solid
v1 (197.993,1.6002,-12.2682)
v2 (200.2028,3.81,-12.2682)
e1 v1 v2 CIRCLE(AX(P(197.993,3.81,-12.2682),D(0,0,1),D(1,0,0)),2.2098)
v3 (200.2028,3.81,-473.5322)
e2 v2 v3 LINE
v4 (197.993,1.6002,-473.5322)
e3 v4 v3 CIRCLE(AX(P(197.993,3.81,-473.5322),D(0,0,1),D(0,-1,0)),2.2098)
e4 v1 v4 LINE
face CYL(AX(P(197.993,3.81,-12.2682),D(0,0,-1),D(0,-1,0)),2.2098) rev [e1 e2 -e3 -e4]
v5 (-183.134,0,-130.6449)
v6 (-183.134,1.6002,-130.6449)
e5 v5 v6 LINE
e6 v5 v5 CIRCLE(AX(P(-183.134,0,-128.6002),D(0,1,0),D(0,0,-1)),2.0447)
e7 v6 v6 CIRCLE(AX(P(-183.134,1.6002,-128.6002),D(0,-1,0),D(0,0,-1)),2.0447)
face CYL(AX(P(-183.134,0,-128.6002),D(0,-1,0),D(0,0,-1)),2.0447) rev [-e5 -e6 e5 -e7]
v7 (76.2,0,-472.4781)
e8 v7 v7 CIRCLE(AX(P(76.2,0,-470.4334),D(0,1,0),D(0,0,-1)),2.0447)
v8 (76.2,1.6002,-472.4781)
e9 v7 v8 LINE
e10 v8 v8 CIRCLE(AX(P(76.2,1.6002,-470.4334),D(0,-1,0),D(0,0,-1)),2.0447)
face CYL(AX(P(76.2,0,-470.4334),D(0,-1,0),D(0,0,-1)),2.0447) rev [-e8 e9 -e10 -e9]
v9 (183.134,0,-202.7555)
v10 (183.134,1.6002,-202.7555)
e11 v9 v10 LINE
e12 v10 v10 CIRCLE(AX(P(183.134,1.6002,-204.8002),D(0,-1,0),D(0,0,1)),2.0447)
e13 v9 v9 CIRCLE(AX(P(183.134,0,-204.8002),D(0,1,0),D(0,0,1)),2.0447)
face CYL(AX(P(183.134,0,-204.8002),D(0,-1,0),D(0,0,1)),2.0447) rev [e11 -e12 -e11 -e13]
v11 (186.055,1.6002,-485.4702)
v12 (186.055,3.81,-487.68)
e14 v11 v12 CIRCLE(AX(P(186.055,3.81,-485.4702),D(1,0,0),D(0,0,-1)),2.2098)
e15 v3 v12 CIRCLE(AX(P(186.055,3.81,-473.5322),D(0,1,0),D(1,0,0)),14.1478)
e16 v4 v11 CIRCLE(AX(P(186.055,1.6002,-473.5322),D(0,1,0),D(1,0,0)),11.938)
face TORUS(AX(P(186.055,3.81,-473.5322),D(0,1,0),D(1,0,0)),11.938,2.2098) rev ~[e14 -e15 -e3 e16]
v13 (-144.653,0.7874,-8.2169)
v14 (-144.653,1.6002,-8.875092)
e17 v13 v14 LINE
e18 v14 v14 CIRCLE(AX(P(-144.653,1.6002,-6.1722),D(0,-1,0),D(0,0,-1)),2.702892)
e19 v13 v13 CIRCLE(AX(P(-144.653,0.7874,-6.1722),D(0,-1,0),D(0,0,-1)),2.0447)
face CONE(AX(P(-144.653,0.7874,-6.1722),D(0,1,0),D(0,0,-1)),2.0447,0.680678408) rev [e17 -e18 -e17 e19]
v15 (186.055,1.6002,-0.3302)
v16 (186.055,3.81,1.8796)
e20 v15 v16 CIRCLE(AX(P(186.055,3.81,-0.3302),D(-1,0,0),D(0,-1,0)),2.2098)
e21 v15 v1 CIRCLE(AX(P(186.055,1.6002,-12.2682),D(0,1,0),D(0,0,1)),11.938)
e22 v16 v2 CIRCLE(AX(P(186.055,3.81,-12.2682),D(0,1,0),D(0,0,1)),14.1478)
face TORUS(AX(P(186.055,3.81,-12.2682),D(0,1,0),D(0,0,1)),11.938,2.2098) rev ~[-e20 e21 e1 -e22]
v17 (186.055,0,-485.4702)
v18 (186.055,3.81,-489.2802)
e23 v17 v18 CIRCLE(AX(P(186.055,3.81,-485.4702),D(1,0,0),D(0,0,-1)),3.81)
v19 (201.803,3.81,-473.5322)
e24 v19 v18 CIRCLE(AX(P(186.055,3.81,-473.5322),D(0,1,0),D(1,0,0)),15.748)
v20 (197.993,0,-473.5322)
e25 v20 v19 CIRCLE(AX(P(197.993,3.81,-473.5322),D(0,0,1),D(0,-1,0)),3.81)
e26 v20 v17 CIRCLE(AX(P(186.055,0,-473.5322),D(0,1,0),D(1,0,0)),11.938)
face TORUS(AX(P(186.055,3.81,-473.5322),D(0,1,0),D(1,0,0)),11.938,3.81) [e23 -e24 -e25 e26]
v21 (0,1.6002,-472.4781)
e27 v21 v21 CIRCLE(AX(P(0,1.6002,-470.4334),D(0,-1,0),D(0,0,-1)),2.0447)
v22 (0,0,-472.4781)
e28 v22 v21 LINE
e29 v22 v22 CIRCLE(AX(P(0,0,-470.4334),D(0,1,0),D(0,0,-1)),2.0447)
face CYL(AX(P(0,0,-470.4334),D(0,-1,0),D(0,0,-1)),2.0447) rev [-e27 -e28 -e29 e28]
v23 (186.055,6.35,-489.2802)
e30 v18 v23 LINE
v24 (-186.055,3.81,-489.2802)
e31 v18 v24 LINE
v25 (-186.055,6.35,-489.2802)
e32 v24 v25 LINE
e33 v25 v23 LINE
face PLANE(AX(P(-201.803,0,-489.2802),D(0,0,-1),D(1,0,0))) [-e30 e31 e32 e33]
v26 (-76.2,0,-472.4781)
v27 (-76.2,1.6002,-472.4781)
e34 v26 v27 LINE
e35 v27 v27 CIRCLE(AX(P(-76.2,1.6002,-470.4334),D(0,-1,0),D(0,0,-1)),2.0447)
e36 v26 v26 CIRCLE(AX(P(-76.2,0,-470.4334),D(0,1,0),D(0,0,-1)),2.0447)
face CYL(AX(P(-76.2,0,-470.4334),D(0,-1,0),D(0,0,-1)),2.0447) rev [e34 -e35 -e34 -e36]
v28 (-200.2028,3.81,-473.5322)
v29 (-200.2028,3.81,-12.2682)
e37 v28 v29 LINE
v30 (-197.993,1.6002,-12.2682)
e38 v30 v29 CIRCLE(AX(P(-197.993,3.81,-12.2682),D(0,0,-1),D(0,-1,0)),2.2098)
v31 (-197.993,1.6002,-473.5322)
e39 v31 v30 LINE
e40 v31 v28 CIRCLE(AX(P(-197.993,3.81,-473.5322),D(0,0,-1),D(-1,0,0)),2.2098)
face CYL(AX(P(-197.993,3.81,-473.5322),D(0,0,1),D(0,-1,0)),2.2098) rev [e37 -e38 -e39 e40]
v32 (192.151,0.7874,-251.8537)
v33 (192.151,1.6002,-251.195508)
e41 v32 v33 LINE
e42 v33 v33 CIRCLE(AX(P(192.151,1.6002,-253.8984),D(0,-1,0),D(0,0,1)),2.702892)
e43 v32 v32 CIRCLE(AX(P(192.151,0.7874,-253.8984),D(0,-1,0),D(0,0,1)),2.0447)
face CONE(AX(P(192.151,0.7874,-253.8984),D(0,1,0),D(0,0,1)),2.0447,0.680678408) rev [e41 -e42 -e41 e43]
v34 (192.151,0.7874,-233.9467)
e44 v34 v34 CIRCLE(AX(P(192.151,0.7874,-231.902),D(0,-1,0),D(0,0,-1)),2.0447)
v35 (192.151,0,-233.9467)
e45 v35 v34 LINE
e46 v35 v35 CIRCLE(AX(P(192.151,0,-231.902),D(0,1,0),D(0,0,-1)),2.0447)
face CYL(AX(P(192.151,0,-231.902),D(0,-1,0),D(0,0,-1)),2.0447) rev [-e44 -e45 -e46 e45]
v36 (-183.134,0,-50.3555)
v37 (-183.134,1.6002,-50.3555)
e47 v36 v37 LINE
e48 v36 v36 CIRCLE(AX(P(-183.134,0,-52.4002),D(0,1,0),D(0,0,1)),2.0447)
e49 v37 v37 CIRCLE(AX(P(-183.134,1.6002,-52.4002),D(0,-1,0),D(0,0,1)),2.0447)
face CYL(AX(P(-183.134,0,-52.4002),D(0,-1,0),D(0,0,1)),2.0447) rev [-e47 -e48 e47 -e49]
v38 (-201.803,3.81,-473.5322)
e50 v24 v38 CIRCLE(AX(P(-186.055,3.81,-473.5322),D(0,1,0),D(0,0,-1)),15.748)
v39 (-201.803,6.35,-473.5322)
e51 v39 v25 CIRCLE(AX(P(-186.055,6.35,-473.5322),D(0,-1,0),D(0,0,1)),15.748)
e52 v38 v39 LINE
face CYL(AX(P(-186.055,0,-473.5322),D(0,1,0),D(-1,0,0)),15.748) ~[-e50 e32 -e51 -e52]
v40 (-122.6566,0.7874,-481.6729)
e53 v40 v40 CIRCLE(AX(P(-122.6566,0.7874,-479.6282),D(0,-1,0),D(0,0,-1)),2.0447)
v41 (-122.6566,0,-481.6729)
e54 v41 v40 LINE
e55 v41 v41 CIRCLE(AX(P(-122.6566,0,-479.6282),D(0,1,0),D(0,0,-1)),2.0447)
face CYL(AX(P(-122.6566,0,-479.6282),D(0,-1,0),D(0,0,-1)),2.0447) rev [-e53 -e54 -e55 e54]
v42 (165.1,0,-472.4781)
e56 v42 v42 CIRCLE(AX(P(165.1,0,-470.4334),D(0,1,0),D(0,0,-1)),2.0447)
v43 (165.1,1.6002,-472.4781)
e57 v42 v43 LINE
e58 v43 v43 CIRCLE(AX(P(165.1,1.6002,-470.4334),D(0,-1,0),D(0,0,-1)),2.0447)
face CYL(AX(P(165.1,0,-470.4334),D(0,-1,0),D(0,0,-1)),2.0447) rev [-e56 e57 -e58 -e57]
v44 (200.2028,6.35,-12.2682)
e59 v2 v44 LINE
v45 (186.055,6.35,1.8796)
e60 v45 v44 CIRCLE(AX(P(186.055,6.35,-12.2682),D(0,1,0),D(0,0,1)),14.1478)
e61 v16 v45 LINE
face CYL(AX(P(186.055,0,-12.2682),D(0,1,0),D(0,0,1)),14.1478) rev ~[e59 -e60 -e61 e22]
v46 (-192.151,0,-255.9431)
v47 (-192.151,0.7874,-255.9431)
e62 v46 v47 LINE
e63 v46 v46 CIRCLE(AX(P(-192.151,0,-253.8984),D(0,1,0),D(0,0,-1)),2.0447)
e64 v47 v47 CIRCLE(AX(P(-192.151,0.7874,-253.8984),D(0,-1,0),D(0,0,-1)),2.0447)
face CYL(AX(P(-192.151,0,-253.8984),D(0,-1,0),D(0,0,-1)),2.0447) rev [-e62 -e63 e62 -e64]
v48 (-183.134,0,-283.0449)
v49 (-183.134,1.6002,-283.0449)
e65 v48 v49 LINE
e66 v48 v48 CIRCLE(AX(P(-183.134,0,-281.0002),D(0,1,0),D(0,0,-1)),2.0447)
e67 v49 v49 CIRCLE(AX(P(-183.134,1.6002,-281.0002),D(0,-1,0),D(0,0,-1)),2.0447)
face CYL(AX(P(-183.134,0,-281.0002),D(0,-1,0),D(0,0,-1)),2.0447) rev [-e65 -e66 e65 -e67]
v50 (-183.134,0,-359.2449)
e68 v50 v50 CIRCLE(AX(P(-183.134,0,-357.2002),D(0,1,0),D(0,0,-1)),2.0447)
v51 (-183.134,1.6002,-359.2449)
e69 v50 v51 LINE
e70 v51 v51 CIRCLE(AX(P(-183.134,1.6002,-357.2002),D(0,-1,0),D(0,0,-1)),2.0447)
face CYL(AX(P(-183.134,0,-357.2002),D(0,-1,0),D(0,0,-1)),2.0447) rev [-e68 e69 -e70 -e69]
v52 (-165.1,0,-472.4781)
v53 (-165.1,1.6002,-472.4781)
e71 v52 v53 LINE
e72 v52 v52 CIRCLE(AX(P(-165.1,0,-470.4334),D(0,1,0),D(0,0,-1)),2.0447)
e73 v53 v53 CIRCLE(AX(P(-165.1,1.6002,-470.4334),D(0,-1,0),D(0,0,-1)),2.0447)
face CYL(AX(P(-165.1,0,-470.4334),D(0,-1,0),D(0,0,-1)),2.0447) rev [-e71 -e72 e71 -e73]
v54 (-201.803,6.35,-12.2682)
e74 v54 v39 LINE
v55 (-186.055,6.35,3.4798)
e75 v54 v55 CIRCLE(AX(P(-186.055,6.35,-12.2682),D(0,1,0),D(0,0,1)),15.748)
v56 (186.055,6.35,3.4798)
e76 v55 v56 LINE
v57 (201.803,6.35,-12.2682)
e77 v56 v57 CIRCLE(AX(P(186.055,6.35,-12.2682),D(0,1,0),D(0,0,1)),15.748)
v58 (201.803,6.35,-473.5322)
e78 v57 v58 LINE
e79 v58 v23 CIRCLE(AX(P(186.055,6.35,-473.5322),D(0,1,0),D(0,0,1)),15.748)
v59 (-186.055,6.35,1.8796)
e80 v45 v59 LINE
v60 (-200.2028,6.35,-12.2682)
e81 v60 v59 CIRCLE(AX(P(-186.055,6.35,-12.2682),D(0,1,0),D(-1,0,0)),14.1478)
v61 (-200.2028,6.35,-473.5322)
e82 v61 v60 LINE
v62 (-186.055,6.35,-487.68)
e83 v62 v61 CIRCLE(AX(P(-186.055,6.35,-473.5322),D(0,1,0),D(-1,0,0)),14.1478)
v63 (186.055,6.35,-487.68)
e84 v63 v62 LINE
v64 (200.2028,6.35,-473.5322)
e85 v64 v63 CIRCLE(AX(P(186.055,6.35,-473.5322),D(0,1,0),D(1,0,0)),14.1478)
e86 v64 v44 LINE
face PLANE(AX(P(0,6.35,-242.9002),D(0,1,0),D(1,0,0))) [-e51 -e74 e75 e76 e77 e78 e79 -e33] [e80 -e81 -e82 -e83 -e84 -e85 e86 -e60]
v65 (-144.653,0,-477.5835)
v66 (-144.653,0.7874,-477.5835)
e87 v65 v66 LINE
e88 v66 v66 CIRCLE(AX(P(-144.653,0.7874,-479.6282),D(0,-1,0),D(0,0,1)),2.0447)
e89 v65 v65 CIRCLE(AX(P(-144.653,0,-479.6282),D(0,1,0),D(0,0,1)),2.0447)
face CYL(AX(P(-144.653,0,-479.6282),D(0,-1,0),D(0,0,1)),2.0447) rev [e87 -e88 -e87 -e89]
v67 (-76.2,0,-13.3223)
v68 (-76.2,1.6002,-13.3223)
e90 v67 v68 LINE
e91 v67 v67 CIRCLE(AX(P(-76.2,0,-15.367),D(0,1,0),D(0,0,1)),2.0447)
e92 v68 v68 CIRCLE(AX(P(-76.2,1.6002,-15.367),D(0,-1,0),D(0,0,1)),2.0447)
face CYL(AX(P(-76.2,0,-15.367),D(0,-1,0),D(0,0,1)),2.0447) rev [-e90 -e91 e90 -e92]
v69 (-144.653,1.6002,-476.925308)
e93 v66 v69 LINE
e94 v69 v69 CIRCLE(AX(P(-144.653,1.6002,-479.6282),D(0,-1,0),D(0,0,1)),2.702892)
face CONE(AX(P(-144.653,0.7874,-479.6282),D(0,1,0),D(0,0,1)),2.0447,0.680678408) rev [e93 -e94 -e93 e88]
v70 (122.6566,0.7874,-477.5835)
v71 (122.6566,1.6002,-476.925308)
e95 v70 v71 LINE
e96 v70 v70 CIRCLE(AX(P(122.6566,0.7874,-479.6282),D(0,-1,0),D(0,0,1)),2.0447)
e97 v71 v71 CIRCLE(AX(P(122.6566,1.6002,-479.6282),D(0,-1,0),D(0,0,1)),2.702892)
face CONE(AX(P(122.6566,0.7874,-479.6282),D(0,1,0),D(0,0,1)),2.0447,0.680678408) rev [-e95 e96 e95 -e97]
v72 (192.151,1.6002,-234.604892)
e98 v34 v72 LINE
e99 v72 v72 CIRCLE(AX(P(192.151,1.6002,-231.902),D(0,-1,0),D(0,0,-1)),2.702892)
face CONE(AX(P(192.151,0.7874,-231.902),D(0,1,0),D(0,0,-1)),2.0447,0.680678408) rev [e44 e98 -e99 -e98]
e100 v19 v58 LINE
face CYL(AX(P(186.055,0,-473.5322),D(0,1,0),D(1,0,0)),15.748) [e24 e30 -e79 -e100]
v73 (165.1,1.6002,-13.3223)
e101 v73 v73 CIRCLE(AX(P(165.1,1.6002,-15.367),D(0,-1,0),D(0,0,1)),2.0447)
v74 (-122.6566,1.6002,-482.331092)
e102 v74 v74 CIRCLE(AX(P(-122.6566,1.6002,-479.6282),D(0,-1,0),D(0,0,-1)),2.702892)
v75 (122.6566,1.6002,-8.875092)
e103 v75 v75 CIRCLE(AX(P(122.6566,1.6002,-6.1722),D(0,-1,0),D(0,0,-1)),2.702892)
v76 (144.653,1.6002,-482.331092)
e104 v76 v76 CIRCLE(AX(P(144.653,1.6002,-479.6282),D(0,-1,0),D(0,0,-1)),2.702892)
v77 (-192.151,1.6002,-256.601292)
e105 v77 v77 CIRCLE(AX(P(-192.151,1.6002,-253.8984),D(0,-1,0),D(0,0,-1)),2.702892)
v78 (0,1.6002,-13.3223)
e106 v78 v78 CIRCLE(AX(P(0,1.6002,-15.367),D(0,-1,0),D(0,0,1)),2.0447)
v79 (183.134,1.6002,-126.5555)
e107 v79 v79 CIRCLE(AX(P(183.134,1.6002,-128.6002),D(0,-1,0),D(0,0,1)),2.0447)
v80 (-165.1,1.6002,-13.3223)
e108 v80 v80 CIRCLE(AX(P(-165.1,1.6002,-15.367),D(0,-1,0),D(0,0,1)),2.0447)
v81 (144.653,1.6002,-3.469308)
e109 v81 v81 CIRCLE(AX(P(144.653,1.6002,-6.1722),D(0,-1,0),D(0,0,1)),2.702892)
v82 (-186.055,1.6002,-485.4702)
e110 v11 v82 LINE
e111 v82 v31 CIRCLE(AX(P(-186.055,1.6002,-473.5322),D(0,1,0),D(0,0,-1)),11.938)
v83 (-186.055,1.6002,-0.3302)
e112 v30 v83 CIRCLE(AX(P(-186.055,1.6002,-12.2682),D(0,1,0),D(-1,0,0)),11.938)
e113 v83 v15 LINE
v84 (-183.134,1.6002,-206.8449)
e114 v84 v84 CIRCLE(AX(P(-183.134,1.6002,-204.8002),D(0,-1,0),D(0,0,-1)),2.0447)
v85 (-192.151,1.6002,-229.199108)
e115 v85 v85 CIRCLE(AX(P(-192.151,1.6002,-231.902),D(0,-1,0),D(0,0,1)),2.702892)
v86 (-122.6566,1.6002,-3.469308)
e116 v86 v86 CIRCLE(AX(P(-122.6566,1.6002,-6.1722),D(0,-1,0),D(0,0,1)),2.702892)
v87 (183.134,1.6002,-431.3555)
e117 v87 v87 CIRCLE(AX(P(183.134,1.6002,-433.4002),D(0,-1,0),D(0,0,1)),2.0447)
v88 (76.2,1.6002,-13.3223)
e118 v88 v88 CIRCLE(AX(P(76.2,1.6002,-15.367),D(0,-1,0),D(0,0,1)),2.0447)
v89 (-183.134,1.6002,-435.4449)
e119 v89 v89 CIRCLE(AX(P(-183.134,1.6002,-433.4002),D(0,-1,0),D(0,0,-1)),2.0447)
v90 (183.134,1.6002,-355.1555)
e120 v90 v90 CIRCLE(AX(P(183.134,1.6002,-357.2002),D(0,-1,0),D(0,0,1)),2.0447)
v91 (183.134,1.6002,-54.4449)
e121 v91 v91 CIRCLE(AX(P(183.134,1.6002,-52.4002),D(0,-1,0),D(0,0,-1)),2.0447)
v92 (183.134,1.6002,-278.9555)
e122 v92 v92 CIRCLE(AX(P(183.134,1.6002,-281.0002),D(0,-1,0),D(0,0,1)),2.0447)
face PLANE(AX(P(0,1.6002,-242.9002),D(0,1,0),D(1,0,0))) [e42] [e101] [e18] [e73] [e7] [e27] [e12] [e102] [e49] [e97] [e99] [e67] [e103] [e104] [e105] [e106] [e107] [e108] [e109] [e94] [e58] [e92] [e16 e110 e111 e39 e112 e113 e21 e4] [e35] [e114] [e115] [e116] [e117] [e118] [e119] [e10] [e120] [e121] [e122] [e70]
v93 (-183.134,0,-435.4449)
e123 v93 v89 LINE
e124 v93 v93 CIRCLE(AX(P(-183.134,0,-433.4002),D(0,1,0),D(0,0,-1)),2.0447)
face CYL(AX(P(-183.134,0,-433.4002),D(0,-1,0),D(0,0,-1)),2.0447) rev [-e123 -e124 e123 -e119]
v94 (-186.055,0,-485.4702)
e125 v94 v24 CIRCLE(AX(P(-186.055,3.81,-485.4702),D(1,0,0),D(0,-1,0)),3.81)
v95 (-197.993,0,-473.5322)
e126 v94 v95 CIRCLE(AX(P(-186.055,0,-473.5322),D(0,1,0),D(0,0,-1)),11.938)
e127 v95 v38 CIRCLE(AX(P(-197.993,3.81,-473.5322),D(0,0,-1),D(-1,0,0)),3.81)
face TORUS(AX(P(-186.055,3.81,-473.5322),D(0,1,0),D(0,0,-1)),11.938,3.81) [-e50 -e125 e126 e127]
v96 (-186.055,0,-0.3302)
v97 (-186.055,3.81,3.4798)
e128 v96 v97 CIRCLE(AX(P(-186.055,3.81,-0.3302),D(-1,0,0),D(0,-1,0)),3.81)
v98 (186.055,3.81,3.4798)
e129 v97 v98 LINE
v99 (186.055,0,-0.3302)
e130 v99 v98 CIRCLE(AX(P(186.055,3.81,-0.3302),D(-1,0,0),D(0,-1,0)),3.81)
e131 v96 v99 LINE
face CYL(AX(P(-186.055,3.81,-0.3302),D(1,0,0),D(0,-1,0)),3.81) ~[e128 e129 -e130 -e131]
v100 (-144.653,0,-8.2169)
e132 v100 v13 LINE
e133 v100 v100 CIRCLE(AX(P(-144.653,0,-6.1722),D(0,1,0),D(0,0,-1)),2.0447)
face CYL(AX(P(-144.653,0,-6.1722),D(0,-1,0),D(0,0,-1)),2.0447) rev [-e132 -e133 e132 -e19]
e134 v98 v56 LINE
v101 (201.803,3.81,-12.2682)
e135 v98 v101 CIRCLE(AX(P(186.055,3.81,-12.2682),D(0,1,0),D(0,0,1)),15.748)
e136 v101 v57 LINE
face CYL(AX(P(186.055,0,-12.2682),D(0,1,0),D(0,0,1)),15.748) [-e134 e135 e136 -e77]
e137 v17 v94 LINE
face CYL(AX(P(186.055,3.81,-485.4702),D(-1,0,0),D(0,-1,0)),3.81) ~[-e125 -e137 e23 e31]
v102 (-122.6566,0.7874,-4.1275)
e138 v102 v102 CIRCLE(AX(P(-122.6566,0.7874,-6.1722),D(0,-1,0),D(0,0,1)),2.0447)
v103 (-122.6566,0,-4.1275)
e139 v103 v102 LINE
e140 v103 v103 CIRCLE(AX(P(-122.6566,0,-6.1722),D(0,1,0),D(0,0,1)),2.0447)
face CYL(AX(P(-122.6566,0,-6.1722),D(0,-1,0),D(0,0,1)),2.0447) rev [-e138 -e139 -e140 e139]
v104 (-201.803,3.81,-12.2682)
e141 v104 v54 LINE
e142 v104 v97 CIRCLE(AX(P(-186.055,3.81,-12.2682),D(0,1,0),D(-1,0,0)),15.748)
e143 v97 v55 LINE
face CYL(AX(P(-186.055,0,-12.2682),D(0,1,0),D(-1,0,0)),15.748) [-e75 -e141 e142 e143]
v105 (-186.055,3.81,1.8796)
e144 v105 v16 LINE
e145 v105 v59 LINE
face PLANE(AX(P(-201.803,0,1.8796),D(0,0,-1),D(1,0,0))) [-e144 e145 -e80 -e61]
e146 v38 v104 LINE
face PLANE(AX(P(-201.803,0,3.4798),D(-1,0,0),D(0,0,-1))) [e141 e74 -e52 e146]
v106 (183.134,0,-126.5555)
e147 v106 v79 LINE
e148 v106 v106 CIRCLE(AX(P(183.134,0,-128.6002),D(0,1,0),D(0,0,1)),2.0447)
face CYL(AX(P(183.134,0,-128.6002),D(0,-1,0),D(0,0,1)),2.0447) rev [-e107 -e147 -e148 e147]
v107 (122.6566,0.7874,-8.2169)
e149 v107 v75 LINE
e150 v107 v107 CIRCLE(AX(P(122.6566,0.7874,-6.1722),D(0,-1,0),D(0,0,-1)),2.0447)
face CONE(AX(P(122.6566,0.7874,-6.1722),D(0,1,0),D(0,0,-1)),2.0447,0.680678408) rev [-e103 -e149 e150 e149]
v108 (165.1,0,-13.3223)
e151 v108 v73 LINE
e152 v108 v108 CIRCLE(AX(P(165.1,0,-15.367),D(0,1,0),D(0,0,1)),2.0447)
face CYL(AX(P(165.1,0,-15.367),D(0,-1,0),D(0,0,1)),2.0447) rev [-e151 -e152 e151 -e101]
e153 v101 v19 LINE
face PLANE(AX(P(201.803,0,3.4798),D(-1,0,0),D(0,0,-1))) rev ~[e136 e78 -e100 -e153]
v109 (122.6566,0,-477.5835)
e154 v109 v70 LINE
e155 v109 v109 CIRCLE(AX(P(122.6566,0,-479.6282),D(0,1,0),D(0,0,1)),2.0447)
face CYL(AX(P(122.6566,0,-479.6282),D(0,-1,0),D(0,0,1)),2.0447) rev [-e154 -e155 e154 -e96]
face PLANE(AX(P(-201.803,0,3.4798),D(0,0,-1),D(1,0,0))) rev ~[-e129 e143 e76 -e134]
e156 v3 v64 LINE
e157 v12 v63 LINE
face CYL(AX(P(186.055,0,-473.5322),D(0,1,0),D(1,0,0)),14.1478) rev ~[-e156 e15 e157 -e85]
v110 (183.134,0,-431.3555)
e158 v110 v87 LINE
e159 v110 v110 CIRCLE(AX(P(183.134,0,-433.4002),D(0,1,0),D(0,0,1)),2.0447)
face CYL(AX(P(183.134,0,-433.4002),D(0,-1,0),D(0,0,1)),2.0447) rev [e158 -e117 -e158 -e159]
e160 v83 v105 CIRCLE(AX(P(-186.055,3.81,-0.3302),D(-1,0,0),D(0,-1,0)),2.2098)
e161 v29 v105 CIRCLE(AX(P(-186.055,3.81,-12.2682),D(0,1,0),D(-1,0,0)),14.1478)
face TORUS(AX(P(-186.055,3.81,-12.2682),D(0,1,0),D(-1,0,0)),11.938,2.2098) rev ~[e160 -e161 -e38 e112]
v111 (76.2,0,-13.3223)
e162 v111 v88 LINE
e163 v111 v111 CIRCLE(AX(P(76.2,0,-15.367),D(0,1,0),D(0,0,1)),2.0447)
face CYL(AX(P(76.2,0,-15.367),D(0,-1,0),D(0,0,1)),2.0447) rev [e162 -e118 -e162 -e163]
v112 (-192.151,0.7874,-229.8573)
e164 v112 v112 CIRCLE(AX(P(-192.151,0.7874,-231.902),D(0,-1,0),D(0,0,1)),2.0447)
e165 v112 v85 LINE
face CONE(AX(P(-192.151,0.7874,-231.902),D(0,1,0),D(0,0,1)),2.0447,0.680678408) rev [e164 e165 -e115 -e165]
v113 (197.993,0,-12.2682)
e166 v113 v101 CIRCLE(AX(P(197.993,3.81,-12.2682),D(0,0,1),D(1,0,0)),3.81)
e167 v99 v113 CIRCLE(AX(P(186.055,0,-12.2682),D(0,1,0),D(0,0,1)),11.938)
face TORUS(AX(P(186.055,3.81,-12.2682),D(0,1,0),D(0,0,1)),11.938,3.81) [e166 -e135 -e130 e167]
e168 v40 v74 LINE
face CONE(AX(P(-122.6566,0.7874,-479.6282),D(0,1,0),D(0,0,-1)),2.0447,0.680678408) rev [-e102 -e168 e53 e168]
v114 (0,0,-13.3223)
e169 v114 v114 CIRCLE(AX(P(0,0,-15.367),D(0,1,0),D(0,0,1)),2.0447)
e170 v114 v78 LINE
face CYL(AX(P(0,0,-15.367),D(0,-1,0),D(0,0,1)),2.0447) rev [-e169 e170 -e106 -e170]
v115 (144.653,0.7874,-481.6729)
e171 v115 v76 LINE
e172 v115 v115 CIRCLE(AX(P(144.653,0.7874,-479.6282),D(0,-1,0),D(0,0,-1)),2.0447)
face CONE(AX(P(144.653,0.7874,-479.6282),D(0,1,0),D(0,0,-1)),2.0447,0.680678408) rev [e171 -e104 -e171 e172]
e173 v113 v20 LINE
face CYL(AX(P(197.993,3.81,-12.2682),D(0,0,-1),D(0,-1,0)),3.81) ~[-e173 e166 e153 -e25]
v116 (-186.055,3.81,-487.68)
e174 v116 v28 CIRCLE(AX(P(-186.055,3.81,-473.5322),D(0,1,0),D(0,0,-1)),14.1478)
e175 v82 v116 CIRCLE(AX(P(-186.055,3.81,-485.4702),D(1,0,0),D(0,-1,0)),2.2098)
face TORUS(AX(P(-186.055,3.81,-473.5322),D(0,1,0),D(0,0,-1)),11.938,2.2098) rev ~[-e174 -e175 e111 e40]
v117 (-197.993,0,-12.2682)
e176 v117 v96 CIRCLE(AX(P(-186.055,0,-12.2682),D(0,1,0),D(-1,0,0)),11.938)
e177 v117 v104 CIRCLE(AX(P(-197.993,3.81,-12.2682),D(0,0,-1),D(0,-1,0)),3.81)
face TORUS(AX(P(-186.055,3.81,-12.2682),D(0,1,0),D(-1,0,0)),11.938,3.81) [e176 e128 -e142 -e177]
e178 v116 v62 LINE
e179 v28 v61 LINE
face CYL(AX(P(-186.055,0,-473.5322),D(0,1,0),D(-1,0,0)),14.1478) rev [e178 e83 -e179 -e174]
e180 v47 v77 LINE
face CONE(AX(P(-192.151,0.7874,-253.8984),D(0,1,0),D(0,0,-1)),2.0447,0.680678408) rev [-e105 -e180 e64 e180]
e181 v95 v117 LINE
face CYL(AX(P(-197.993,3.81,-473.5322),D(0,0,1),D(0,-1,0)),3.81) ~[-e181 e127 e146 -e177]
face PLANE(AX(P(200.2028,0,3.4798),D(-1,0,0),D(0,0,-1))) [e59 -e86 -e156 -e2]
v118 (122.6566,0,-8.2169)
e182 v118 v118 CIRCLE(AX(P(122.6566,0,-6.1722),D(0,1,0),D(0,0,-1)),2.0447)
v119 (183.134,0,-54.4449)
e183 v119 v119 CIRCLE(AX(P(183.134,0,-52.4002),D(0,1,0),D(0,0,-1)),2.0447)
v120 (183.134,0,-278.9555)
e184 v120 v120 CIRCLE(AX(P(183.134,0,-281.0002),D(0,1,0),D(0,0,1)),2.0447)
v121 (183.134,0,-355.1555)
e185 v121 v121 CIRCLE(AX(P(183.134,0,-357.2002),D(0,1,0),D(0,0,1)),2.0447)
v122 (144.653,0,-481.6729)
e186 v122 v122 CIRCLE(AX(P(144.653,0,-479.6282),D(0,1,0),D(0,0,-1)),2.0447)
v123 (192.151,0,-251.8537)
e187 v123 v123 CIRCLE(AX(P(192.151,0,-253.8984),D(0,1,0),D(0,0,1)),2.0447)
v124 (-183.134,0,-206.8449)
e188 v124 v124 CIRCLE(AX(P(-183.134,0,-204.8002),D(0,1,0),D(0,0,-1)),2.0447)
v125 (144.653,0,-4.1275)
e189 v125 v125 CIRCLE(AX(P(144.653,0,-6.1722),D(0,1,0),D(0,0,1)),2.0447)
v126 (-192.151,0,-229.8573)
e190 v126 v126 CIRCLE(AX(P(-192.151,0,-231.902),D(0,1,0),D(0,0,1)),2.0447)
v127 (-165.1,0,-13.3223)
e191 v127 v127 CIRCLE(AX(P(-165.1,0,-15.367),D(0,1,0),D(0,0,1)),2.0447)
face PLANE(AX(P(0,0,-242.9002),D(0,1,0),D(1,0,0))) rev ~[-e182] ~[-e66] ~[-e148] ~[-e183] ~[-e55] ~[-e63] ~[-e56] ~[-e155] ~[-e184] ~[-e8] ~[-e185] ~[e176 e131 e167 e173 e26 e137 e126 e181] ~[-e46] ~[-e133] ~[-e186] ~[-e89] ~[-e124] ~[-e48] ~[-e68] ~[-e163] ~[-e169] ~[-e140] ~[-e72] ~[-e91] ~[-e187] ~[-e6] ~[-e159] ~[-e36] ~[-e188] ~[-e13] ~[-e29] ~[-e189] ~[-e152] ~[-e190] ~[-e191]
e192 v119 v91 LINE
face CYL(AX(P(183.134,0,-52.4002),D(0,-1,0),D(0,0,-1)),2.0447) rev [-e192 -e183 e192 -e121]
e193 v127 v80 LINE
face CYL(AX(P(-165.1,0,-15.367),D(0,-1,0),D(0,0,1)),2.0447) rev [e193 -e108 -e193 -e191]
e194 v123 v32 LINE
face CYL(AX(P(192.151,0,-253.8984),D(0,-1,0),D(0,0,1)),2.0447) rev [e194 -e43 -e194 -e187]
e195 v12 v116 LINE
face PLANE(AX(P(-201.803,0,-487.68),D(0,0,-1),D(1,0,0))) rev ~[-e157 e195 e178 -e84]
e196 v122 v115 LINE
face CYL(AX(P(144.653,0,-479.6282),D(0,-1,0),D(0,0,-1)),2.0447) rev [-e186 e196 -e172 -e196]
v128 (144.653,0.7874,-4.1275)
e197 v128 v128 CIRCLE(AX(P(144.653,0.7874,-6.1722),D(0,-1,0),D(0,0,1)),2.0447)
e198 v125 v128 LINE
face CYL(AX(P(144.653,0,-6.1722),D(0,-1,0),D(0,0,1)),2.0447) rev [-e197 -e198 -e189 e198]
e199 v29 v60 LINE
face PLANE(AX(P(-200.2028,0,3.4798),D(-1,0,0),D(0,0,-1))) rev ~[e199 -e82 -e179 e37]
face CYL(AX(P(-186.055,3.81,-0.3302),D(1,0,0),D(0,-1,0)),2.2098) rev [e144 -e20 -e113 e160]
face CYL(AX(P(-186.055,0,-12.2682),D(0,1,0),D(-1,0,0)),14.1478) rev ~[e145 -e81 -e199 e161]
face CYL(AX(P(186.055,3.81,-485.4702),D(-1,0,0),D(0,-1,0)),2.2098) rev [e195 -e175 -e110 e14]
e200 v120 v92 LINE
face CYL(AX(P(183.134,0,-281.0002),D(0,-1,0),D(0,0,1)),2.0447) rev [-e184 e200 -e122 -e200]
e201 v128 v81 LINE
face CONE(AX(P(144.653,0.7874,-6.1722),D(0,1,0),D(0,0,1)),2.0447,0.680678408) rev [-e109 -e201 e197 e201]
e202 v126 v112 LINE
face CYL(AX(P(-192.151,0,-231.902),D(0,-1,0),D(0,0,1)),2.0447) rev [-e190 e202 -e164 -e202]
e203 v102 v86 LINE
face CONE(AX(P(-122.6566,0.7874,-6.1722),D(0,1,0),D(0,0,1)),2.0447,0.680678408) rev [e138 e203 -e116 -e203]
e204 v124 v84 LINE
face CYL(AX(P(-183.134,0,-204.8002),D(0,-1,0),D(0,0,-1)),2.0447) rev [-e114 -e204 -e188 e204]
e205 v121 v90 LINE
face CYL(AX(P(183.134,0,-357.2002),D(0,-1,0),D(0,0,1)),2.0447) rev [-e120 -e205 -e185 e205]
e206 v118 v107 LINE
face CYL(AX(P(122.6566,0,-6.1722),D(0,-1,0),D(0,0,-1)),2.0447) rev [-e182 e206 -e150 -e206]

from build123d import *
from OCP.BRepFilletAPI import BRepFilletAPI_MakeChamfer

# Parameters (mm, degrees)
SKETCH1_W          = 403.606
SKETCH1_H          = 492.76
EXTRUDE1_DEPTH     = 6.35
FILLET1_R          = 15.748
FILLET2_R          = 3.81
SHELL1_T           = -1.6002
SKETCH4_R          = 2.0447
CUT_EXTRUDE2_DEPTH = 530.301320194
SKETCH5_R          = 2.0447
CUT_EXTRUDE4_DEPTH = 530.301320194
CHAMFER1_SIZE      = 0.8128
CHAMFER1_SIZE2     = 0.658192462


with BuildPart() as part:
    # Sketch1 → Extrude1 (new body)
    with BuildSketch(Plane(origin=(0, 0, 0), x_dir=(1, 0, 0), z_dir=(0, 1, 0))):
        with Locations((0, 242.9002)):
            Rectangle(SKETCH1_W, SKETCH1_H)
    extrude(amount=EXTRUDE1_DEPTH)

    # Fillet1
    fillet1_edges = [part.edges().sort_by_distance(p)[0] for p in [
        (-201.803, 3.175, -489.2802),
        (201.803, 3.175, -489.2802),
        (201.803, 3.175, 3.4798),
        (-201.803, 3.175, 3.4798),
    ]]
    fillet(fillet1_edges, radius=FILLET1_R)

    # Fillet2
    fillet2_edges = [part.edges().sort_by_distance(p)[0] for p in [
        (0, 0, 3.4798),
        (-201.803, 0, -242.9002),
        (0, 0, -489.2802),
        (201.803, 0, -242.9002),
        (197.19051759, 0, -1.13268241),
        (197.19051759, 0, -484.66771759),
        (-197.19051759, 0, -484.66771759),
        (-197.19051759, 0, -1.13268241),
    ]]
    fillet(fillet2_edges, radius=FILLET2_R)

    # Shell1
    shell1_openings = [part.faces().sort_by_distance(p)[0] for p in [
        (0, 6.35, -242.9002),
    ]]
    offset(amount=SHELL1_T, openings=shell1_openings, kind=Kind.INTERSECTION)

    # Sketch4 → Cut-Extrude2 (cut, through all)
    with BuildSketch(Plane(origin=(0, 0, 0), x_dir=(1, 0, 0), z_dir=(0, 1, 0))):
        with Locations(Location((183.134, 204.8002, 0), (0, 0, 270))):
            Circle(SKETCH4_R)
        with Locations(Location((0, 15.367, 0), (0, 0, 270))):
            Circle(SKETCH4_R)
        with Locations(Location((183.134, 128.6002, 0), (0, 0, 270))):
            Circle(SKETCH4_R)
        with Locations(Location((183.134, 433.4002, 0), (0, 0, 270))):
            Circle(SKETCH4_R)
        with Locations(Location((183.134, 281.0002, 0), (0, 0, 270))):
            Circle(SKETCH4_R)
        with Locations(Location((183.134, 357.2002, 0), (0, 0, 270))):
            Circle(SKETCH4_R)
        with Locations(Location((-183.134, 357.2002, 0), (0, 0, 90))):
            Circle(SKETCH4_R)
        with Locations(Location((-183.134, 281.0002, 0), (0, 0, 90))):
            Circle(SKETCH4_R)
        with Locations(Location((183.134, 52.4002, 0), (0, 0, 90))):
            Circle(SKETCH4_R)
        with Locations(Location((-183.134, 128.6002, 0), (0, 0, 90))):
            Circle(SKETCH4_R)
        with Locations(Location((-183.134, 204.8002, 0), (0, 0, 90))):
            Circle(SKETCH4_R)
        with Locations(Location((165.1, 15.367, 0), (0, 0, 270))):
            Circle(SKETCH4_R)
        with Locations(Location((-183.134, 52.4002, 0), (0, 0, 270))):
            Circle(SKETCH4_R)
        with Locations(Location((-183.134, 433.4002, 0), (0, 0, 90))):
            Circle(SKETCH4_R)
        with Locations(Location((-165.1, 470.4334, 0), (0, 0, 90))):
            Circle(SKETCH4_R)
        with Locations(Location((-76.2, 470.4334, 0), (0, 0, 90))):
            Circle(SKETCH4_R)
        with Locations(Location((76.2, 15.367, 0), (0, 0, 270))):
            Circle(SKETCH4_R)
        with Locations(Location((76.2, 470.4334, 0), (0, 0, 90))):
            Circle(SKETCH4_R)
        with Locations(Location((165.1, 470.4334, 0), (0, 0, 90))):
            Circle(SKETCH4_R)
        with Locations(Location((-76.2, 15.367, 0), (0, 0, 270))):
            Circle(SKETCH4_R)
        with Locations(Location((-165.1, 15.367, 0), (0, 0, 270))):
            Circle(SKETCH4_R)
        with Locations(Location((0, 470.4334, 0), (0, 0, 90))):
            Circle(SKETCH4_R)
    extrude(amount=CUT_EXTRUDE2_DEPTH, mode=Mode.SUBTRACT)

    # Sketch5 → Cut-Extrude4 (cut, through all)
    with BuildSketch(Plane(origin=(0, 0, 0), x_dir=(1, 0, 0), z_dir=(0, 1, 0))):
        with Locations(Location((122.6566, 6.1722, 0), (0, 0, 90))):
            Circle(SKETCH5_R)
        with Locations(Location((144.653, 6.1722, 0), (0, 0, 270))):
            Circle(SKETCH5_R)
        with Locations(Location((-122.6566, 6.1722, 0), (0, 0, 270))):
            Circle(SKETCH5_R)
        with Locations(Location((-144.653, 6.1722, 0), (0, 0, 90))):
            Circle(SKETCH5_R)
        with Locations(Location((-144.653, 479.6282, 0), (0, 0, 270))):
            Circle(SKETCH5_R)
        with Locations(Location((-122.6566, 479.6282, 0), (0, 0, 90))):
            Circle(SKETCH5_R)
        with Locations(Location((122.6566, 479.6282, 0), (0, 0, 270))):
            Circle(SKETCH5_R)
        with Locations(Location((144.653, 479.6282, 0), (0, 0, 90))):
            Circle(SKETCH5_R)
        with Locations(Location((-192.151, 231.902, 0), (0, 0, 270))):
            Circle(SKETCH5_R)
        with Locations(Location((-192.151, 253.8984, 0), (0, 0, 90))):
            Circle(SKETCH5_R)
        with Locations(Location((192.151, 253.8984, 0), (0, 0, 270))):
            Circle(SKETCH5_R)
        with Locations(Location((192.151, 231.902, 0), (0, 0, 90))):
            Circle(SKETCH5_R)
    extrude(amount=CUT_EXTRUDE4_DEPTH, mode=Mode.SUBTRACT)

    # Chamfer1: one chamfer whose edges measure the first distance from different faces: ONE call of the kernel's chamfer builder (chamfer() names one face for all edges)
    chamfer1_edges_1 = [part.edges().sort_by_distance(p)[0] for p in [
        (144.653, 1.6002, -8.2169),
    ]]
    chamfer1_side_1 = [part.faces().sort_by_distance(p)[0] for p in [
        (144.653, 0.8001, -8.2169),
    ]]
    chamfer1_edges_2 = [part.edges().sort_by_distance(p)[0] for p in [
        (122.6566, 1.6002, -4.1275),
    ]]
    chamfer1_side_2 = [part.faces().sort_by_distance(p)[0] for p in [
        (122.6566, 0.8001, -4.1275),
    ]]
    chamfer1_edges_3 = [part.edges().sort_by_distance(p)[0] for p in [
        (-122.6566, 1.6002, -8.2169),
    ]]
    chamfer1_side_3 = [part.faces().sort_by_distance(p)[0] for p in [
        (-122.6566, 0.8001, -8.2169),
    ]]
    chamfer1_edges_4 = [part.edges().sort_by_distance(p)[0] for p in [
        (-144.653, 1.6002, -4.1275),
    ]]
    chamfer1_side_4 = [part.faces().sort_by_distance(p)[0] for p in [
        (-144.653, 0.8001, -4.1275),
    ]]
    chamfer1_edges_5 = [part.edges().sort_by_distance(p)[0] for p in [
        (-144.653, 1.6002, -481.6729),
    ]]
    chamfer1_side_5 = [part.faces().sort_by_distance(p)[0] for p in [
        (-144.653, 0.8001, -481.6729),
    ]]
    chamfer1_edges_6 = [part.edges().sort_by_distance(p)[0] for p in [
        (-122.6566, 1.6002, -477.5835),
    ]]
    chamfer1_side_6 = [part.faces().sort_by_distance(p)[0] for p in [
        (-122.6566, 0.8001, -477.5835),
    ]]
    chamfer1_edges_7 = [part.edges().sort_by_distance(p)[0] for p in [
        (122.6566, 1.6002, -481.6729),
    ]]
    chamfer1_side_7 = [part.faces().sort_by_distance(p)[0] for p in [
        (122.6566, 0.8001, -481.6729),
    ]]
    chamfer1_edges_8 = [part.edges().sort_by_distance(p)[0] for p in [
        (144.653, 1.6002, -477.5835),
    ]]
    chamfer1_side_8 = [part.faces().sort_by_distance(p)[0] for p in [
        (144.653, 0.8001, -477.5835),
    ]]
    chamfer1_edges_9 = [part.edges().sort_by_distance(p)[0] for p in [
        (-192.151, 1.6002, -233.9467),
    ]]
    chamfer1_side_9 = [part.faces().sort_by_distance(p)[0] for p in [
        (-192.151, 0.8001, -233.9467),
    ]]
    chamfer1_edges_10 = [part.edges().sort_by_distance(p)[0] for p in [
        (-192.151, 1.6002, -251.8537),
    ]]
    chamfer1_side_10 = [part.faces().sort_by_distance(p)[0] for p in [
        (-192.151, 0.8001, -251.8537),
    ]]
    chamfer1_edges_11 = [part.edges().sort_by_distance(p)[0] for p in [
        (192.151, 1.6002, -255.9431),
    ]]
    chamfer1_side_11 = [part.faces().sort_by_distance(p)[0] for p in [
        (192.151, 0.8001, -255.9431),
    ]]
    chamfer1_edges_12 = [part.edges().sort_by_distance(p)[0] for p in [
        (192.151, 1.6002, -229.8573),
    ]]
    chamfer1_side_12 = [part.faces().sort_by_distance(p)[0] for p in [
        (192.151, 0.8001, -229.8573),
    ]]
    chamfer1 = BRepFilletAPI_MakeChamfer(part.part.solid().wrapped)
    for e in chamfer1_edges_1:
        chamfer1.Add(CHAMFER1_SIZE, CHAMFER1_SIZE2, e.wrapped, chamfer1_side_1[0].wrapped)  # the first distance lies on this face
    for e in chamfer1_edges_2:
        chamfer1.Add(CHAMFER1_SIZE, CHAMFER1_SIZE2, e.wrapped, chamfer1_side_2[0].wrapped)  # the first distance lies on this face
    for e in chamfer1_edges_3:
        chamfer1.Add(CHAMFER1_SIZE, CHAMFER1_SIZE2, e.wrapped, chamfer1_side_3[0].wrapped)  # the first distance lies on this face
    for e in chamfer1_edges_4:
        chamfer1.Add(CHAMFER1_SIZE, CHAMFER1_SIZE2, e.wrapped, chamfer1_side_4[0].wrapped)  # the first distance lies on this face
    for e in chamfer1_edges_5:
        chamfer1.Add(CHAMFER1_SIZE, CHAMFER1_SIZE2, e.wrapped, chamfer1_side_5[0].wrapped)  # the first distance lies on this face
    for e in chamfer1_edges_6:
        chamfer1.Add(CHAMFER1_SIZE, CHAMFER1_SIZE2, e.wrapped, chamfer1_side_6[0].wrapped)  # the first distance lies on this face
    for e in chamfer1_edges_7:
        chamfer1.Add(CHAMFER1_SIZE, CHAMFER1_SIZE2, e.wrapped, chamfer1_side_7[0].wrapped)  # the first distance lies on this face
    for e in chamfer1_edges_8:
        chamfer1.Add(CHAMFER1_SIZE, CHAMFER1_SIZE2, e.wrapped, chamfer1_side_8[0].wrapped)  # the first distance lies on this face
    for e in chamfer1_edges_9:
        chamfer1.Add(CHAMFER1_SIZE, CHAMFER1_SIZE2, e.wrapped, chamfer1_side_9[0].wrapped)  # the first distance lies on this face
    for e in chamfer1_edges_10:
        chamfer1.Add(CHAMFER1_SIZE, CHAMFER1_SIZE2, e.wrapped, chamfer1_side_10[0].wrapped)  # the first distance lies on this face
    for e in chamfer1_edges_11:
        chamfer1.Add(CHAMFER1_SIZE, CHAMFER1_SIZE2, e.wrapped, chamfer1_side_11[0].wrapped)  # the first distance lies on this face
    for e in chamfer1_edges_12:
        chamfer1.Add(CHAMFER1_SIZE, CHAMFER1_SIZE2, e.wrapped, chamfer1_side_12[0].wrapped)  # the first distance lies on this face
    add(Compound.cast(chamfer1.Shape()), mode=Mode.REPLACE)


solid = part.part
